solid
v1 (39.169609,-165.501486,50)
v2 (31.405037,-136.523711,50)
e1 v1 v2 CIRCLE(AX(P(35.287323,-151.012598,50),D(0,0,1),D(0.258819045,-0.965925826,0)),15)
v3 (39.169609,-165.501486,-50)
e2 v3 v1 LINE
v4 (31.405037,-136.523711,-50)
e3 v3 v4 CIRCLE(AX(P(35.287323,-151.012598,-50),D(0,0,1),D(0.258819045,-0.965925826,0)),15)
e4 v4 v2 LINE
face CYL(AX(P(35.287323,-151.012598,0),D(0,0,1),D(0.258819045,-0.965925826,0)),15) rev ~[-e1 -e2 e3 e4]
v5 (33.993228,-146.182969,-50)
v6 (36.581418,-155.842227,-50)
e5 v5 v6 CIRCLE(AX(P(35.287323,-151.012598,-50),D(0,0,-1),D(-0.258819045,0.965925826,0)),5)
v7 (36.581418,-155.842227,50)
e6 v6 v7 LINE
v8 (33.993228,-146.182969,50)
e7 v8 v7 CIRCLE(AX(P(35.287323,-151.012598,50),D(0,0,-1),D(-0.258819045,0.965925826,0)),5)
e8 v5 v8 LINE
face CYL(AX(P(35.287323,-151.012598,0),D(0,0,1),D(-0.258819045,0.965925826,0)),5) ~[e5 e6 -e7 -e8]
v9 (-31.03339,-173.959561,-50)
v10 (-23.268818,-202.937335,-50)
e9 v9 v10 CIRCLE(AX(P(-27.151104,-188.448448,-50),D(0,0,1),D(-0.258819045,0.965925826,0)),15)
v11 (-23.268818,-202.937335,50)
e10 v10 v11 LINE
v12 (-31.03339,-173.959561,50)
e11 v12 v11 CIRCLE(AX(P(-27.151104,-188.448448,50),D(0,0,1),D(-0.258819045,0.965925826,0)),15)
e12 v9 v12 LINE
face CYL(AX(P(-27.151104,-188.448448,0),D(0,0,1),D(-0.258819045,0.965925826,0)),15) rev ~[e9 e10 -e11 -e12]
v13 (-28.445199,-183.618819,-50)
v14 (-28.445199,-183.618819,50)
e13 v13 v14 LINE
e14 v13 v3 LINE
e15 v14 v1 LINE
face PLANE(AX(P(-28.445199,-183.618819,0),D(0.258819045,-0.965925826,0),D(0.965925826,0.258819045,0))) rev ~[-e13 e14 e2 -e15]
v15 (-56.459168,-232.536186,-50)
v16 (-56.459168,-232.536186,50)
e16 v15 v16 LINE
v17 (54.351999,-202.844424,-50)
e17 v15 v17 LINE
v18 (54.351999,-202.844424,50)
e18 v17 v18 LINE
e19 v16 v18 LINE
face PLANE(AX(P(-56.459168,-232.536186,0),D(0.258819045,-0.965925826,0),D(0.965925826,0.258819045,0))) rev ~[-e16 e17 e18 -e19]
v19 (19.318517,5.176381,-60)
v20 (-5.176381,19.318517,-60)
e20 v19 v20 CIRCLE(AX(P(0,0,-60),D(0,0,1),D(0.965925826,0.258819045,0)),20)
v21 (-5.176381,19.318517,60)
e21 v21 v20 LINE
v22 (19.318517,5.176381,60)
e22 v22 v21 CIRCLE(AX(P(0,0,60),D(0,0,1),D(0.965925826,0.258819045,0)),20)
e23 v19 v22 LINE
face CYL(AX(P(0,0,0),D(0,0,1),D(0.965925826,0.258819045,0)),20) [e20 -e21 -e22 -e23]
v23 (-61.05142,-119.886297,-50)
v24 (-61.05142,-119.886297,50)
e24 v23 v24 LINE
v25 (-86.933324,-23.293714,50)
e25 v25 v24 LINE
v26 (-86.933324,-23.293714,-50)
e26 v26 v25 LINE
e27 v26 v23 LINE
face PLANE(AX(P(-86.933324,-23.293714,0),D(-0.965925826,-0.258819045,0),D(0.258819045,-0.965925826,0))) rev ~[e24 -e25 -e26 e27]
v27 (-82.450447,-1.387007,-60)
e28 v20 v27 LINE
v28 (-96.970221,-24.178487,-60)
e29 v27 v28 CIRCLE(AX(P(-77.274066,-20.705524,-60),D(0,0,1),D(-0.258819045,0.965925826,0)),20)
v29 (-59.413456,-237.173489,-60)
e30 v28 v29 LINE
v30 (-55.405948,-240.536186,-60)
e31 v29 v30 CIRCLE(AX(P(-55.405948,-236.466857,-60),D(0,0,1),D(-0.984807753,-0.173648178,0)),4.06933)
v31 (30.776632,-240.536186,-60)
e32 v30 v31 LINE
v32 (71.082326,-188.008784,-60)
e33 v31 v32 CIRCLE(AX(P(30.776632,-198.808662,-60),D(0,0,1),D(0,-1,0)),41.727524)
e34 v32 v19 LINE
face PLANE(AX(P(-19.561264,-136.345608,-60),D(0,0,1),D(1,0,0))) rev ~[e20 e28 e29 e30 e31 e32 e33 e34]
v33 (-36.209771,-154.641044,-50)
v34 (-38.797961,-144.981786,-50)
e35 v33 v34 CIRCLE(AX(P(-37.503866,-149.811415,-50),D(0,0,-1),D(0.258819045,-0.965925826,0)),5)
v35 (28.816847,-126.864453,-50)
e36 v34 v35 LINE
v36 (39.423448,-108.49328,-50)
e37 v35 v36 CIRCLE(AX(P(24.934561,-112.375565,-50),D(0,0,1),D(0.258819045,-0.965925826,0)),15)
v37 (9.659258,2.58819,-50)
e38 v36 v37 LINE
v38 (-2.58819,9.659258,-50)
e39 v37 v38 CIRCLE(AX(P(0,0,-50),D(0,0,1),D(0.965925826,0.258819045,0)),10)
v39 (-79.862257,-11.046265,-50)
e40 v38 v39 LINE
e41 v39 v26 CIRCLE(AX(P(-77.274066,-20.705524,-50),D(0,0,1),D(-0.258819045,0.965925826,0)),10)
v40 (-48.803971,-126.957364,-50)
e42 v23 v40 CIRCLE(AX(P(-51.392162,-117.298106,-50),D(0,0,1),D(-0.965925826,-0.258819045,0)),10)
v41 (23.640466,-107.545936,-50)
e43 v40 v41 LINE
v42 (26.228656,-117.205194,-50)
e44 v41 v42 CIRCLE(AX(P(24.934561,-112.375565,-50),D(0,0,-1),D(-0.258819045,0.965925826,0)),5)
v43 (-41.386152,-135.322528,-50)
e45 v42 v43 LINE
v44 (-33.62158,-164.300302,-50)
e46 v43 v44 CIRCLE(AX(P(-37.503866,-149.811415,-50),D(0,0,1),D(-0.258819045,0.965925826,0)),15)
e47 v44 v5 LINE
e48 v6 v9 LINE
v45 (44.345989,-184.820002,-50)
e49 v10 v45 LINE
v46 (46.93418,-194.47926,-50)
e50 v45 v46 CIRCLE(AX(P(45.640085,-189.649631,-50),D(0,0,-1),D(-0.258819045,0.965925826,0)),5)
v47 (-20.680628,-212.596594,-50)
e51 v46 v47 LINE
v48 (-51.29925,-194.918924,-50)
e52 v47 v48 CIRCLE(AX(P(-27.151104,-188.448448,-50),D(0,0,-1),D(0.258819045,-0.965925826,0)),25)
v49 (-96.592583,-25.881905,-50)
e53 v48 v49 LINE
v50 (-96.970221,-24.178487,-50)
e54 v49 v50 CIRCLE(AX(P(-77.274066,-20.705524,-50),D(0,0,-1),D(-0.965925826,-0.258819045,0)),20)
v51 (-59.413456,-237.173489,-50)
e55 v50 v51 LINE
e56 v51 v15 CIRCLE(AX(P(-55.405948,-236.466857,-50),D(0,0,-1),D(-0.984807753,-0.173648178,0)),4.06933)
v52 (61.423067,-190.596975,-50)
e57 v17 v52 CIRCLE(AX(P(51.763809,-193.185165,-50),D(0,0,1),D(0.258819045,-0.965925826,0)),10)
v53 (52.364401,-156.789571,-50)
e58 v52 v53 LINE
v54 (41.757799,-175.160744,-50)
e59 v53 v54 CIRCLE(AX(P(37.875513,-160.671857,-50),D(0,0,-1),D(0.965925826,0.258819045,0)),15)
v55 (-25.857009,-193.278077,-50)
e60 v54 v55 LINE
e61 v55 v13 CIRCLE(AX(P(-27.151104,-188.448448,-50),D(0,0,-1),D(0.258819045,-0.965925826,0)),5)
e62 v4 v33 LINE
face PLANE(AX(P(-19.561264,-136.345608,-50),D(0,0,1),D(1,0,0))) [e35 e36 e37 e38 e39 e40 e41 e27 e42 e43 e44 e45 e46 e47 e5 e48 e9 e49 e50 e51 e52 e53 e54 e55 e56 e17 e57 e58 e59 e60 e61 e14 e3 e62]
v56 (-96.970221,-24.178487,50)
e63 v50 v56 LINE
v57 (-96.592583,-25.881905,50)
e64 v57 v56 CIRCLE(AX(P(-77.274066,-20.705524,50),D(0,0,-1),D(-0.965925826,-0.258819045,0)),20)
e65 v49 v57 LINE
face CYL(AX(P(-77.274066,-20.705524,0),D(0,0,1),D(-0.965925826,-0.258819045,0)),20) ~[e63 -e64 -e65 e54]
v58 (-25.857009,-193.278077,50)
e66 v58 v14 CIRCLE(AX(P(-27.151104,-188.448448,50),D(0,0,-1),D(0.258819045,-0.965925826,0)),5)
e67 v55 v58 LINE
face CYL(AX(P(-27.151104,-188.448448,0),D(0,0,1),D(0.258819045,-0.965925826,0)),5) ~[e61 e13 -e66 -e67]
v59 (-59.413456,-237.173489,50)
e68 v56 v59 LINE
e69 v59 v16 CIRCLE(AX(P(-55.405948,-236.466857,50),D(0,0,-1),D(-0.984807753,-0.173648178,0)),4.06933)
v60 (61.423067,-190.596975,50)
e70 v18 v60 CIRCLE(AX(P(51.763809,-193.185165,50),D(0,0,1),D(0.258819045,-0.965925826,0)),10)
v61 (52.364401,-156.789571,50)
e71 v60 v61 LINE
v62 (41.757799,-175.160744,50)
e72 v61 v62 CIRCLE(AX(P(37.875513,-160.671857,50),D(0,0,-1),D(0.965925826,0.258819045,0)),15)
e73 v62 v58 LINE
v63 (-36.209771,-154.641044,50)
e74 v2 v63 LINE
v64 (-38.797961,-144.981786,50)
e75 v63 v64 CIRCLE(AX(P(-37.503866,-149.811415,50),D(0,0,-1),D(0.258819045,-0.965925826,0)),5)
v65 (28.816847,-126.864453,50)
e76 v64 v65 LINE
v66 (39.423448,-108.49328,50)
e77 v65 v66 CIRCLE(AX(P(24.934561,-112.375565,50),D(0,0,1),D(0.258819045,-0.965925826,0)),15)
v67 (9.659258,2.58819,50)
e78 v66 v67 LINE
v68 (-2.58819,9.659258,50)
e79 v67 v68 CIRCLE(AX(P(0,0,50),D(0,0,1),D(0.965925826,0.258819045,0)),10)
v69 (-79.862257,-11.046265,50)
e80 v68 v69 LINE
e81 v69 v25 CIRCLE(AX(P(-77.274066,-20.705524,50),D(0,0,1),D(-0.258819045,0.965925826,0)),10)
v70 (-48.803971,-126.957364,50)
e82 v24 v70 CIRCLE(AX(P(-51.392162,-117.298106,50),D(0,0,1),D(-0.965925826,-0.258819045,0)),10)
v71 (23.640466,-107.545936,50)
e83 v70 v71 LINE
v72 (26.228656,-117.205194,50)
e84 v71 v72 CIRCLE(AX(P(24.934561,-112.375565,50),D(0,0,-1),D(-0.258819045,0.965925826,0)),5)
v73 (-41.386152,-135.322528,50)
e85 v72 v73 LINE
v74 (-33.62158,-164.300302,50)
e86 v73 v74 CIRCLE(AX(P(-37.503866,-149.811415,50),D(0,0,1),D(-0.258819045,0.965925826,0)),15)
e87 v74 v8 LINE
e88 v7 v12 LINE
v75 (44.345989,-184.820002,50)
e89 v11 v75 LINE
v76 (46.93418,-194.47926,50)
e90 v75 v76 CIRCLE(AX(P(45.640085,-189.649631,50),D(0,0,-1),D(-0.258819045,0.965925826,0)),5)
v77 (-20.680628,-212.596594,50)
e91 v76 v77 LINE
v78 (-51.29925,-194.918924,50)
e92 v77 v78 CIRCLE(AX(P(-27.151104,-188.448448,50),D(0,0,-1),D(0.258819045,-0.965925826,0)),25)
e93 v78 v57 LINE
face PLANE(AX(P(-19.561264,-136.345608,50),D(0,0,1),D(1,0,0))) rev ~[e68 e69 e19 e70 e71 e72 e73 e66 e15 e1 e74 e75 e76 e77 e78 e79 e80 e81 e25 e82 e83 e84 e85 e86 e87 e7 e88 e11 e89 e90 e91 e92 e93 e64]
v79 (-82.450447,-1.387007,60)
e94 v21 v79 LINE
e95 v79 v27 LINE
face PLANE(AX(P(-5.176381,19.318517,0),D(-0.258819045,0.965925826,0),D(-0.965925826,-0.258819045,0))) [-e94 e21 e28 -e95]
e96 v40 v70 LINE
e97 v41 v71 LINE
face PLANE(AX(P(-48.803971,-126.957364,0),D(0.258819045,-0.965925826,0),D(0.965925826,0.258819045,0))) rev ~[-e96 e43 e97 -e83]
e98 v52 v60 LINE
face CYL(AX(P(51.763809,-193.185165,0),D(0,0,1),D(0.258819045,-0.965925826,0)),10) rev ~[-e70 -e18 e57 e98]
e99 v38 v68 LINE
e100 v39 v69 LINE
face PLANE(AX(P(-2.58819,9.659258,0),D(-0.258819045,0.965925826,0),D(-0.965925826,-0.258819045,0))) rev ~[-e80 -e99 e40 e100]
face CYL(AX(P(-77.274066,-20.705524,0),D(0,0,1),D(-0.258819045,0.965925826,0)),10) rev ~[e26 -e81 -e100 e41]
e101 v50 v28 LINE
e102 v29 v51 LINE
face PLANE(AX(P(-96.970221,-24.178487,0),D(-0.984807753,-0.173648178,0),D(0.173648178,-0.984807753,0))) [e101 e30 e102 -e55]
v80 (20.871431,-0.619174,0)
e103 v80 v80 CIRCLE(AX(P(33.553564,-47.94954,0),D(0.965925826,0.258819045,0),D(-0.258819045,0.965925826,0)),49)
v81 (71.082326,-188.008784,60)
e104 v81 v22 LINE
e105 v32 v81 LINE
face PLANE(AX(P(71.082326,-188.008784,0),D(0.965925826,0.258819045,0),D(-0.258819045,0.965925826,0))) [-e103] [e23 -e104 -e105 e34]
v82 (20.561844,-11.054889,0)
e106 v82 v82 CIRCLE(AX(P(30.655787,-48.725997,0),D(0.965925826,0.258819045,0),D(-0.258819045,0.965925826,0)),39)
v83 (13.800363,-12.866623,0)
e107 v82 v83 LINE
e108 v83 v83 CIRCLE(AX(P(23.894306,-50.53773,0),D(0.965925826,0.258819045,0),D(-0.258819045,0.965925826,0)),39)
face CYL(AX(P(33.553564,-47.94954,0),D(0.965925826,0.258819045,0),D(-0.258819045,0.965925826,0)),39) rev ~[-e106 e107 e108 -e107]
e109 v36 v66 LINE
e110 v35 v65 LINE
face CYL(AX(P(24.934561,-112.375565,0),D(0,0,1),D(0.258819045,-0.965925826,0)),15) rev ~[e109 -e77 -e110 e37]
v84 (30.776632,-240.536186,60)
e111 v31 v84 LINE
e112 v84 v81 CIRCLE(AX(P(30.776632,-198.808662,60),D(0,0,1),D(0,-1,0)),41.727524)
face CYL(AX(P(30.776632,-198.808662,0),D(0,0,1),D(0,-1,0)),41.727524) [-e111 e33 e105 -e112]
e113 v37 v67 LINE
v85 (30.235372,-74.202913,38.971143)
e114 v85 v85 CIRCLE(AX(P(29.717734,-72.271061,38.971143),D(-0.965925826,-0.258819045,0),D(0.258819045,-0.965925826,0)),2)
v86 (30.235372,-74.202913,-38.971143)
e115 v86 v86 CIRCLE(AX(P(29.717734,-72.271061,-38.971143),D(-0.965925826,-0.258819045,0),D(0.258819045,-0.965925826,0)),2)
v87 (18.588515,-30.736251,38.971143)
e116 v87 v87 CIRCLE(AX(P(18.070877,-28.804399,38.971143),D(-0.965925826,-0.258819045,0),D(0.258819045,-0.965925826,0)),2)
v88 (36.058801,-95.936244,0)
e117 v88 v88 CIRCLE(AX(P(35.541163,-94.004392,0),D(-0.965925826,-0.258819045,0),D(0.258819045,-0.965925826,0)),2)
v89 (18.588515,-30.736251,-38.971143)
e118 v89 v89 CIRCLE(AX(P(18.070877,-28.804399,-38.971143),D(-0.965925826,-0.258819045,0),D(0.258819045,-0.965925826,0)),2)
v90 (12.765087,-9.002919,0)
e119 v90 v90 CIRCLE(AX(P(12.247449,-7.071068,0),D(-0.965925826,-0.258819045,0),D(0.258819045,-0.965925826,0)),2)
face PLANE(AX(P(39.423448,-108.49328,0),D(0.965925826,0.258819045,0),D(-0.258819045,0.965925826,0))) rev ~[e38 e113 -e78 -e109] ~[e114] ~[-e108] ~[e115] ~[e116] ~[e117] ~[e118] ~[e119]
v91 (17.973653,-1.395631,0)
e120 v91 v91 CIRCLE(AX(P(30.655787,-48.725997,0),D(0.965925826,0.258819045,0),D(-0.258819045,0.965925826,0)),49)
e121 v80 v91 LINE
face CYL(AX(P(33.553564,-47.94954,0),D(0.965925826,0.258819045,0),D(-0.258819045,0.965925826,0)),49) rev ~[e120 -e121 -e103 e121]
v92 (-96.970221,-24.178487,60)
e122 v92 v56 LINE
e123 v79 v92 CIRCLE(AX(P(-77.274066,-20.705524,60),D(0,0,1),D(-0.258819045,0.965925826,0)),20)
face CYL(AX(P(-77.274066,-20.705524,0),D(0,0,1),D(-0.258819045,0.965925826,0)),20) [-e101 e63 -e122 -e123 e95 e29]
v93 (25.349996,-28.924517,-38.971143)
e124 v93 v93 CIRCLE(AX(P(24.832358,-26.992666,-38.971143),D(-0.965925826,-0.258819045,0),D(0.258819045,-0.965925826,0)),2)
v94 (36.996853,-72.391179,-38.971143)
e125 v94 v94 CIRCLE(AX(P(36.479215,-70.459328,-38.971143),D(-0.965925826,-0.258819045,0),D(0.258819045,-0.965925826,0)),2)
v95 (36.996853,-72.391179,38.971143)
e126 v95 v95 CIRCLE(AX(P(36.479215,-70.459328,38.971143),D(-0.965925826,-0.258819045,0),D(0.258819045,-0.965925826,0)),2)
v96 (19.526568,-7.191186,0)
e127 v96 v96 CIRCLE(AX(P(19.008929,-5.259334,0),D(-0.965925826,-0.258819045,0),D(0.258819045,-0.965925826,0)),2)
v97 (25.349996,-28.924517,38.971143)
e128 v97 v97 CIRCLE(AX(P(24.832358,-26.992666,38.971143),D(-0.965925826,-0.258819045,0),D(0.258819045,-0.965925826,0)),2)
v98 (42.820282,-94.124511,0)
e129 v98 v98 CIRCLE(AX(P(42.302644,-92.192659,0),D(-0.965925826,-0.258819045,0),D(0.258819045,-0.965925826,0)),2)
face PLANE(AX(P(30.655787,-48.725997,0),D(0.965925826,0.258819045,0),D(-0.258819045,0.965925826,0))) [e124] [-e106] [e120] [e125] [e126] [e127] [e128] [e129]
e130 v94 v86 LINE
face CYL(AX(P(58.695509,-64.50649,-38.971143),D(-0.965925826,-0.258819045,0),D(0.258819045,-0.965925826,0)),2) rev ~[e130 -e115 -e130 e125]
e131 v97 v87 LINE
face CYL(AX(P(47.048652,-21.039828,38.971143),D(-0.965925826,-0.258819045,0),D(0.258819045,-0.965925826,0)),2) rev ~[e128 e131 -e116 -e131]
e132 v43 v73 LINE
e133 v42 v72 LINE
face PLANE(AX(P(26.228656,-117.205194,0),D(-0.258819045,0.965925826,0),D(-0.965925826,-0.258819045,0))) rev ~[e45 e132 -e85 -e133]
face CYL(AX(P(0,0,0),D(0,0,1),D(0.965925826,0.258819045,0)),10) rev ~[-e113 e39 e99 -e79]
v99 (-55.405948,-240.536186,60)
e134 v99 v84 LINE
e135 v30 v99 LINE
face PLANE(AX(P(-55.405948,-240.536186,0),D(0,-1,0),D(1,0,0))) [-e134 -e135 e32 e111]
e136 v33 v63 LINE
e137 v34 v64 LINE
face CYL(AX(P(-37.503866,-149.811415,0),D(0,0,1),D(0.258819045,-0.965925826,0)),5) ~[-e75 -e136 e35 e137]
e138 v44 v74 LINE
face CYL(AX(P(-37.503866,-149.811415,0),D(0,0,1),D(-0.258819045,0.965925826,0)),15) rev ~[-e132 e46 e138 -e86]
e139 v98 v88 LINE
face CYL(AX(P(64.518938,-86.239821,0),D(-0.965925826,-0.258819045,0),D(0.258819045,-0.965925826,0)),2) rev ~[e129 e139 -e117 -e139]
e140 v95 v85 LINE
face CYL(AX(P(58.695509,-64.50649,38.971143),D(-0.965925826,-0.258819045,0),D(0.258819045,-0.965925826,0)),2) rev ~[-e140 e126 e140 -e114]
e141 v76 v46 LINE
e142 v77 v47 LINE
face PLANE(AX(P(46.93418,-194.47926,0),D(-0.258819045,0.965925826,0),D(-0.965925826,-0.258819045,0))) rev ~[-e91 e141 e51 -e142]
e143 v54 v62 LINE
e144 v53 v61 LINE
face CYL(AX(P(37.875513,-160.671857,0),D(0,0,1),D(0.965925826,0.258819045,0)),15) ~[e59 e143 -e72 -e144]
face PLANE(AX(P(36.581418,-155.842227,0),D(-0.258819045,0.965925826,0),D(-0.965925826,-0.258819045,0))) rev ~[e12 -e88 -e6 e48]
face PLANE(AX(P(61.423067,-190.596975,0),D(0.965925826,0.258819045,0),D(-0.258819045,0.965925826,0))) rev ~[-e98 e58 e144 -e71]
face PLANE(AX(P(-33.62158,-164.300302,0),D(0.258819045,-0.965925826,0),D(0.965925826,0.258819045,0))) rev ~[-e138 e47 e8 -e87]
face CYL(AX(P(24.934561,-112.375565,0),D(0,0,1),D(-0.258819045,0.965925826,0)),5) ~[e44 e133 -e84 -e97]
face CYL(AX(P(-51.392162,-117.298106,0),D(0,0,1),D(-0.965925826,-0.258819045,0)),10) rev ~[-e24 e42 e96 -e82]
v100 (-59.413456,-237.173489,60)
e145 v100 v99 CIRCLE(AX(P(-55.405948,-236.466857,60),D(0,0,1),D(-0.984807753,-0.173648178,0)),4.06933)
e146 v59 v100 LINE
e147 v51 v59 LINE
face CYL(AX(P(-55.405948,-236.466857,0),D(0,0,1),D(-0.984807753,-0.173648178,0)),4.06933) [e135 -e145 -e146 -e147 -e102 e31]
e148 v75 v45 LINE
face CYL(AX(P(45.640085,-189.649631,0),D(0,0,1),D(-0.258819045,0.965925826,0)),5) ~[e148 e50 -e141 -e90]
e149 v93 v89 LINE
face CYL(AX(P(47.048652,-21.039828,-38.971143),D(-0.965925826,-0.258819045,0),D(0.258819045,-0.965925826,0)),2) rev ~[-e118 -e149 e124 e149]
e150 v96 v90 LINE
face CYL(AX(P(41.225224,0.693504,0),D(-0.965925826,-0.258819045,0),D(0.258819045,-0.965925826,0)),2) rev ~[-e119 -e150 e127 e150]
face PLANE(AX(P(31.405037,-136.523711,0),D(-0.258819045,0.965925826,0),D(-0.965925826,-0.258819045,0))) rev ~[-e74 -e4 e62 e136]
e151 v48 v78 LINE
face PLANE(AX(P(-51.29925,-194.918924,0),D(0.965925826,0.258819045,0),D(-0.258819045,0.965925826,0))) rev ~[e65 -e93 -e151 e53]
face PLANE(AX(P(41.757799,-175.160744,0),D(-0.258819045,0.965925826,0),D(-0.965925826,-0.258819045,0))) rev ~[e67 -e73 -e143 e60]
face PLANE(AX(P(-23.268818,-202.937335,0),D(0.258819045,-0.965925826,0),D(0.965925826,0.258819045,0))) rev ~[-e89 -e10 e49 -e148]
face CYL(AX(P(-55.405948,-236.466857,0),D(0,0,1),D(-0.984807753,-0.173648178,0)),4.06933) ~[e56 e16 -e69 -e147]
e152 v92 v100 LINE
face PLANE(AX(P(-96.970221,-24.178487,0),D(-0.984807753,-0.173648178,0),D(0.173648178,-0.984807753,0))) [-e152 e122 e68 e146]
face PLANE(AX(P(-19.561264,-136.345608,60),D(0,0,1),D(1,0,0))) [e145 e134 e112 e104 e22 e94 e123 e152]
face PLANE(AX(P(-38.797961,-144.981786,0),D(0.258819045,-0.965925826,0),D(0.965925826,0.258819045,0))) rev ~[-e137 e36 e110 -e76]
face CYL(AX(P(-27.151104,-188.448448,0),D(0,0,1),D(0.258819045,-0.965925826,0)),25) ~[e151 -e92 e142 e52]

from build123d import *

# Parameters (mm, degrees)
F1_DEPTH = 60
F2_DEPTH = 50
F3_R     = 39
F4_DEPTH = 10
F3_R_2   = 49
F5_DEPTH = 3
F6_D     = 4
F6_DEPTH = 20
F6_TIP   = 1.2017212381


with BuildPart() as f1:
    # F0 (on Top) → F1 (new body, symmetric)
    with BuildSketch(Plane.XY):
        with BuildLine():
            ThreePointArc((-20.6806279512, -212.5965936405), (-39.6511040787, -210.0990830779), (-51.299249736, -194.9189241108))
            Line((-51.299249736, -194.9189241108), (-96.5925826289, -25.8819045103))
            ThreePointArc((-96.5925826289, -25.8819045103), (-96.7999862455, -25.034315887), (-96.9702211634, -24.1784871615))
            Line((-96.9702211634, -24.1784871615), (-59.4134556551, -237.1734885924))
            ThreePointArc((-59.4134556551, -237.1734885924), (-58.8379861015, -234.2804077793), (-56.4591683744, -232.5361864574))
            Line((-56.4591683744, -232.5361864574), (54.3519994715, -202.8444235207))
            ThreePointArc((54.3519994715, -202.8444235207), (60.4240630584, -198.1851652578), (61.4230672834, -190.5969748068))
            Line((61.4230672834, -190.5969748068), (52.3644007048, -156.7895708867))
            ThreePointArc((52.3644007048, -156.7895708867), (50.8658943672, -168.1718565632), (41.757798987, -175.1607439575))
            Line((41.757798987, -175.1607439575), (-25.8570088532, -193.2780771147))
            ThreePointArc((-25.8570088532, -193.2780771147), (-31.9807332102, -189.7425432088), (-28.4451993043, -183.6188188518))
            Line((-28.4451993043, -183.6188188518), (39.169608536, -165.5014856947))
            ThreePointArc((39.169608536, -165.5014856947), (49.7762102538, -147.1303126238), (31.4050371829, -136.523710906))
            Line((31.4050371829, -136.523710906), (-36.2097706573, -154.6410440632))
            ThreePointArc((-36.2097706573, -154.6410440632), (-42.3334950143, -151.1055101572), (-38.7979611084, -144.9817858003))
            Line((-38.7979611084, -144.9817858003), (28.8168467319, -126.8644526431))
            ThreePointArc((28.8168467319, -126.8644526431), (37.9249421121, -119.8755652488), (39.4234484497, -108.4932795722))
            Line((39.4234484497, -108.4932795722), (9.6592582629, 2.588190451))
            ThreePointArc((9.6592582629, 2.588190451), (5, 8.6602540378), (-2.588190451, 9.6592582629))
            Line((-2.588190451, 9.6592582629), (-79.8622565541, -11.0462653453))
            ThreePointArc((-79.8622565541, -11.0462653453), (-85.934320141, -15.7055236082), (-86.933324366, -23.2937140592))
            Line((-86.933324366, -23.2937140592), (-61.0514198558, -119.8862966881))
            ThreePointArc((-61.0514198558, -119.8862966881), (-56.3921615929, -125.958360275), (-48.8039711418, -126.9573645))
            Line((-48.8039711418, -126.9573645), (23.6404658298, -107.5459361173))
            ThreePointArc((23.6404658298, -107.5459361173), (29.7641901868, -111.0814700232), (26.2286562809, -117.2051943802))
            Line((26.2286562809, -117.2051943802), (-41.3861515594, -135.3225275374))
            ThreePointArc((-41.3861515594, -135.3225275374), (-51.9927532772, -153.6937006083), (-33.6215802063, -164.300302326))
            Line((-33.6215802063, -164.300302326), (33.9932276339, -146.1829691689))
            ThreePointArc((33.9932276339, -146.1829691689), (40.1169519909, -149.7185030748), (36.581418085, -155.8422274318))
            Line((36.581418085, -155.8422274318), (-31.0333897553, -173.9595605889))
            ThreePointArc((-31.0333897553, -173.9595605889), (-41.6399914731, -192.3307336598), (-23.2688184022, -202.9373353776))
            Line((-23.2688184022, -202.9373353776), (44.345989438, -184.8200022204))
            ThreePointArc((44.345989438, -184.8200022204), (50.469713795, -188.3555361264), (46.9341798891, -194.4792604833))
            Line((46.9341798891, -194.4792604833), (-20.6806279512, -212.5965936405))
        make_face()
        with BuildLine():
            Line((-96.5925826289, -25.8819045103), (-51.299249736, -194.9189241108))
            ThreePointArc((-51.299249736, -194.9189241108), (-39.6511040787, -210.0990830779), (-20.6806279512, -212.5965936405))
            Line((-20.6806279512, -212.5965936405), (46.9341798891, -194.4792604833))
            ThreePointArc((46.9341798891, -194.4792604833), (50.469713795, -188.3555361264), (44.345989438, -184.8200022204))
            Line((44.345989438, -184.8200022204), (-23.2688184022, -202.9373353776))
            ThreePointArc((-23.2688184022, -202.9373353776), (-41.6399914731, -192.3307336598), (-31.0333897553, -173.9595605889))
            Line((-31.0333897553, -173.9595605889), (36.581418085, -155.8422274318))
            ThreePointArc((36.581418085, -155.8422274318), (40.1169519909, -149.7185030748), (33.9932276339, -146.1829691689))
            Line((33.9932276339, -146.1829691689), (-33.6215802063, -164.300302326))
            ThreePointArc((-33.6215802063, -164.300302326), (-51.9927532772, -153.6937006083), (-41.3861515594, -135.3225275374))
            Line((-41.3861515594, -135.3225275374), (26.2286562809, -117.2051943802))
            ThreePointArc((26.2286562809, -117.2051943802), (29.7641901868, -111.0814700232), (23.6404658298, -107.5459361173))
            Line((23.6404658298, -107.5459361173), (-48.8039711418, -126.9573645))
            ThreePointArc((-48.8039711418, -126.9573645), (-56.3921615929, -125.958360275), (-61.0514198558, -119.8862966881))
            Line((-61.0514198558, -119.8862966881), (-86.933324366, -23.2937140592))
            ThreePointArc((-86.933324366, -23.2937140592), (-85.934320141, -15.7055236082), (-79.8622565541, -11.0462653453))
            Line((-79.8622565541, -11.0462653453), (-2.588190451, 9.6592582629))
            ThreePointArc((-2.588190451, 9.6592582629), (5, 8.6602540378), (9.6592582629, 2.588190451))
            Line((9.6592582629, 2.588190451), (39.4234484497, -108.4932795722))
            ThreePointArc((39.4234484497, -108.4932795722), (37.9249421121, -119.8755652488), (28.8168467319, -126.8644526431))
            Line((28.8168467319, -126.8644526431), (-38.7979611084, -144.9817858003))
            ThreePointArc((-38.7979611084, -144.9817858003), (-42.3334950143, -151.1055101572), (-36.2097706573, -154.6410440632))
            Line((-36.2097706573, -154.6410440632), (31.4050371829, -136.523710906))
            ThreePointArc((31.4050371829, -136.523710906), (49.7762102538, -147.1303126238), (39.169608536, -165.5014856947))
            Line((39.169608536, -165.5014856947), (-28.4451993043, -183.6188188518))
            ThreePointArc((-28.4451993043, -183.6188188518), (-31.9807332102, -189.7425432088), (-25.8570088532, -193.2780771147))
            Line((-25.8570088532, -193.2780771147), (41.757798987, -175.1607439575))
            ThreePointArc((41.757798987, -175.1607439575), (50.8658943672, -168.1718565632), (52.3644007048, -156.7895708867))
            Line((52.3644007048, -156.7895708867), (61.4230672834, -190.5969748068))
            ThreePointArc((61.4230672834, -190.5969748068), (60.4240630584, -198.1851652578), (54.3519994715, -202.8444235207))
            Line((54.3519994715, -202.8444235207), (-56.4591683744, -232.5361864574))
            ThreePointArc((-56.4591683744, -232.5361864574), (-58.8379861015, -234.2804077793), (-59.4134556551, -237.1734885924))
            ThreePointArc((-59.4134556551, -237.1734885924), (-58.0216629892, -239.5841442033), (-55.4059483937, -240.5361864574))
            Line((-55.4059483937, -240.5361864574), (30.7766323053, -240.5361864574))
            ThreePointArc((30.7766323053, -240.5361864574), (63.8813029697, -224.210769539), (71.0823255463, -188.0087843558))
            Line((71.0823255463, -188.0087843558), (19.3185165258, 5.1763809021))
            ThreePointArc((19.3185165258, 5.1763809021), (10, 17.3205080757), (-5.1763809021, 19.3185165258))
            Line((-5.1763809021, 19.3185165258), (-82.4504470052, -1.3870070824))
            ThreePointArc((-82.4504470052, -1.3870070824), (-94.1418950194, -9.9595314413), (-96.9702211634, -24.1784871615))
            ThreePointArc((-96.9702211634, -24.1784871615), (-96.7999862455, -25.034315887), (-96.5925826289, -25.8819045103))
        make_face()
    extrude(amount=F1_DEPTH, both=True)

    # F0 (on Top) → F2 (cut, symmetric)
    with BuildSketch(Plane.XY):
        with BuildLine():
            ThreePointArc((-20.6806279512, -212.5965936405), (-39.6511040787, -210.0990830779), (-51.299249736, -194.9189241108))
            Line((-51.299249736, -194.9189241108), (-96.5925826289, -25.8819045103))
            ThreePointArc((-96.5925826289, -25.8819045103), (-96.7999862455, -25.034315887), (-96.9702211634, -24.1784871615))
            Line((-96.9702211634, -24.1784871615), (-59.4134556551, -237.1734885924))
            ThreePointArc((-59.4134556551, -237.1734885924), (-58.8379861015, -234.2804077793), (-56.4591683744, -232.5361864574))
            Line((-56.4591683744, -232.5361864574), (54.3519994715, -202.8444235207))
            ThreePointArc((54.3519994715, -202.8444235207), (60.4240630584, -198.1851652578), (61.4230672834, -190.5969748068))
            Line((61.4230672834, -190.5969748068), (52.3644007048, -156.7895708867))
            ThreePointArc((52.3644007048, -156.7895708867), (50.8658943672, -168.1718565632), (41.757798987, -175.1607439575))
            Line((41.757798987, -175.1607439575), (-25.8570088532, -193.2780771147))
            ThreePointArc((-25.8570088532, -193.2780771147), (-31.9807332102, -189.7425432088), (-28.4451993043, -183.6188188518))
            Line((-28.4451993043, -183.6188188518), (39.169608536, -165.5014856947))
            ThreePointArc((39.169608536, -165.5014856947), (49.7762102538, -147.1303126238), (31.4050371829, -136.523710906))
            Line((31.4050371829, -136.523710906), (-36.2097706573, -154.6410440632))
            ThreePointArc((-36.2097706573, -154.6410440632), (-42.3334950143, -151.1055101572), (-38.7979611084, -144.9817858003))
            Line((-38.7979611084, -144.9817858003), (28.8168467319, -126.8644526431))
            ThreePointArc((28.8168467319, -126.8644526431), (37.9249421121, -119.8755652488), (39.4234484497, -108.4932795722))
            Line((39.4234484497, -108.4932795722), (9.6592582629, 2.588190451))
            ThreePointArc((9.6592582629, 2.588190451), (5, 8.6602540378), (-2.588190451, 9.6592582629))
            Line((-2.588190451, 9.6592582629), (-79.8622565541, -11.0462653453))
            ThreePointArc((-79.8622565541, -11.0462653453), (-85.934320141, -15.7055236082), (-86.933324366, -23.2937140592))
            Line((-86.933324366, -23.2937140592), (-61.0514198558, -119.8862966881))
            ThreePointArc((-61.0514198558, -119.8862966881), (-56.3921615929, -125.958360275), (-48.8039711418, -126.9573645))
            Line((-48.8039711418, -126.9573645), (23.6404658298, -107.5459361173))
            ThreePointArc((23.6404658298, -107.5459361173), (29.7641901868, -111.0814700232), (26.2286562809, -117.2051943802))
            Line((26.2286562809, -117.2051943802), (-41.3861515594, -135.3225275374))
            ThreePointArc((-41.3861515594, -135.3225275374), (-51.9927532772, -153.6937006083), (-33.6215802063, -164.300302326))
            Line((-33.6215802063, -164.300302326), (33.9932276339, -146.1829691689))
            ThreePointArc((33.9932276339, -146.1829691689), (40.1169519909, -149.7185030748), (36.581418085, -155.8422274318))
            Line((36.581418085, -155.8422274318), (-31.0333897553, -173.9595605889))
            ThreePointArc((-31.0333897553, -173.9595605889), (-41.6399914731, -192.3307336598), (-23.2688184022, -202.9373353776))
            Line((-23.2688184022, -202.9373353776), (44.345989438, -184.8200022204))
            ThreePointArc((44.345989438, -184.8200022204), (50.469713795, -188.3555361264), (46.9341798891, -194.4792604833))
            Line((46.9341798891, -194.4792604833), (-20.6806279512, -212.5965936405))
        make_face()
    extrude(amount=F2_DEPTH, both=True, mode=Mode.SUBTRACT)

    # F3 (on face) → F4 (cut)
    with BuildSketch(Plane(origin=(19.3185165258, 5.1763809021, 0), x_dir=(-0.2588190451, 0.9659258263, 0), z_dir=(0.9659258263, 0.2588190451, 0))):
        with Locations((-55, 0)):
            Circle(F3_R)
    extrude(amount=-F4_DEPTH, mode=Mode.SUBTRACT)

    # F3 (on face) → F5 (cut)
    with BuildSketch(Plane(origin=(19.3185165258, 5.1763809021, 0), x_dir=(-0.2588190451, 0.9659258263, 0), z_dir=(0.9659258263, 0.2588190451, 0))):
        with Locations((-55, 0)):
            Circle(F3_R_2)
        with Locations((-55, 0)):
            Circle(F3_R, mode=Mode.SUBTRACT)
    extrude(amount=-F5_DEPTH, mode=Mode.SUBTRACT)

    # F6
    with Locations(Plane(origin=(19.3185165258, 5.1763809021, 0), x_dir=(-0.2588190451, 0.9659258263, 0), z_dir=(0.9659258263, 0.2588190451, 0))):
        with Locations((-10, 0), (-32.5, -38.9711431703), (-77.5, -38.9711431703), (-100, 0), (-77.5, 38.9711431703), (-32.5, 38.9711431703)):
            Hole(F6_D / 2, depth=F6_DEPTH)
            with Locations((0, 0, -(F6_DEPTH + F6_TIP / 2))):  # 118° drill point
                Cone(0, F6_D / 2, F6_TIP, mode=Mode.SUBTRACT)


solid = f1.part
